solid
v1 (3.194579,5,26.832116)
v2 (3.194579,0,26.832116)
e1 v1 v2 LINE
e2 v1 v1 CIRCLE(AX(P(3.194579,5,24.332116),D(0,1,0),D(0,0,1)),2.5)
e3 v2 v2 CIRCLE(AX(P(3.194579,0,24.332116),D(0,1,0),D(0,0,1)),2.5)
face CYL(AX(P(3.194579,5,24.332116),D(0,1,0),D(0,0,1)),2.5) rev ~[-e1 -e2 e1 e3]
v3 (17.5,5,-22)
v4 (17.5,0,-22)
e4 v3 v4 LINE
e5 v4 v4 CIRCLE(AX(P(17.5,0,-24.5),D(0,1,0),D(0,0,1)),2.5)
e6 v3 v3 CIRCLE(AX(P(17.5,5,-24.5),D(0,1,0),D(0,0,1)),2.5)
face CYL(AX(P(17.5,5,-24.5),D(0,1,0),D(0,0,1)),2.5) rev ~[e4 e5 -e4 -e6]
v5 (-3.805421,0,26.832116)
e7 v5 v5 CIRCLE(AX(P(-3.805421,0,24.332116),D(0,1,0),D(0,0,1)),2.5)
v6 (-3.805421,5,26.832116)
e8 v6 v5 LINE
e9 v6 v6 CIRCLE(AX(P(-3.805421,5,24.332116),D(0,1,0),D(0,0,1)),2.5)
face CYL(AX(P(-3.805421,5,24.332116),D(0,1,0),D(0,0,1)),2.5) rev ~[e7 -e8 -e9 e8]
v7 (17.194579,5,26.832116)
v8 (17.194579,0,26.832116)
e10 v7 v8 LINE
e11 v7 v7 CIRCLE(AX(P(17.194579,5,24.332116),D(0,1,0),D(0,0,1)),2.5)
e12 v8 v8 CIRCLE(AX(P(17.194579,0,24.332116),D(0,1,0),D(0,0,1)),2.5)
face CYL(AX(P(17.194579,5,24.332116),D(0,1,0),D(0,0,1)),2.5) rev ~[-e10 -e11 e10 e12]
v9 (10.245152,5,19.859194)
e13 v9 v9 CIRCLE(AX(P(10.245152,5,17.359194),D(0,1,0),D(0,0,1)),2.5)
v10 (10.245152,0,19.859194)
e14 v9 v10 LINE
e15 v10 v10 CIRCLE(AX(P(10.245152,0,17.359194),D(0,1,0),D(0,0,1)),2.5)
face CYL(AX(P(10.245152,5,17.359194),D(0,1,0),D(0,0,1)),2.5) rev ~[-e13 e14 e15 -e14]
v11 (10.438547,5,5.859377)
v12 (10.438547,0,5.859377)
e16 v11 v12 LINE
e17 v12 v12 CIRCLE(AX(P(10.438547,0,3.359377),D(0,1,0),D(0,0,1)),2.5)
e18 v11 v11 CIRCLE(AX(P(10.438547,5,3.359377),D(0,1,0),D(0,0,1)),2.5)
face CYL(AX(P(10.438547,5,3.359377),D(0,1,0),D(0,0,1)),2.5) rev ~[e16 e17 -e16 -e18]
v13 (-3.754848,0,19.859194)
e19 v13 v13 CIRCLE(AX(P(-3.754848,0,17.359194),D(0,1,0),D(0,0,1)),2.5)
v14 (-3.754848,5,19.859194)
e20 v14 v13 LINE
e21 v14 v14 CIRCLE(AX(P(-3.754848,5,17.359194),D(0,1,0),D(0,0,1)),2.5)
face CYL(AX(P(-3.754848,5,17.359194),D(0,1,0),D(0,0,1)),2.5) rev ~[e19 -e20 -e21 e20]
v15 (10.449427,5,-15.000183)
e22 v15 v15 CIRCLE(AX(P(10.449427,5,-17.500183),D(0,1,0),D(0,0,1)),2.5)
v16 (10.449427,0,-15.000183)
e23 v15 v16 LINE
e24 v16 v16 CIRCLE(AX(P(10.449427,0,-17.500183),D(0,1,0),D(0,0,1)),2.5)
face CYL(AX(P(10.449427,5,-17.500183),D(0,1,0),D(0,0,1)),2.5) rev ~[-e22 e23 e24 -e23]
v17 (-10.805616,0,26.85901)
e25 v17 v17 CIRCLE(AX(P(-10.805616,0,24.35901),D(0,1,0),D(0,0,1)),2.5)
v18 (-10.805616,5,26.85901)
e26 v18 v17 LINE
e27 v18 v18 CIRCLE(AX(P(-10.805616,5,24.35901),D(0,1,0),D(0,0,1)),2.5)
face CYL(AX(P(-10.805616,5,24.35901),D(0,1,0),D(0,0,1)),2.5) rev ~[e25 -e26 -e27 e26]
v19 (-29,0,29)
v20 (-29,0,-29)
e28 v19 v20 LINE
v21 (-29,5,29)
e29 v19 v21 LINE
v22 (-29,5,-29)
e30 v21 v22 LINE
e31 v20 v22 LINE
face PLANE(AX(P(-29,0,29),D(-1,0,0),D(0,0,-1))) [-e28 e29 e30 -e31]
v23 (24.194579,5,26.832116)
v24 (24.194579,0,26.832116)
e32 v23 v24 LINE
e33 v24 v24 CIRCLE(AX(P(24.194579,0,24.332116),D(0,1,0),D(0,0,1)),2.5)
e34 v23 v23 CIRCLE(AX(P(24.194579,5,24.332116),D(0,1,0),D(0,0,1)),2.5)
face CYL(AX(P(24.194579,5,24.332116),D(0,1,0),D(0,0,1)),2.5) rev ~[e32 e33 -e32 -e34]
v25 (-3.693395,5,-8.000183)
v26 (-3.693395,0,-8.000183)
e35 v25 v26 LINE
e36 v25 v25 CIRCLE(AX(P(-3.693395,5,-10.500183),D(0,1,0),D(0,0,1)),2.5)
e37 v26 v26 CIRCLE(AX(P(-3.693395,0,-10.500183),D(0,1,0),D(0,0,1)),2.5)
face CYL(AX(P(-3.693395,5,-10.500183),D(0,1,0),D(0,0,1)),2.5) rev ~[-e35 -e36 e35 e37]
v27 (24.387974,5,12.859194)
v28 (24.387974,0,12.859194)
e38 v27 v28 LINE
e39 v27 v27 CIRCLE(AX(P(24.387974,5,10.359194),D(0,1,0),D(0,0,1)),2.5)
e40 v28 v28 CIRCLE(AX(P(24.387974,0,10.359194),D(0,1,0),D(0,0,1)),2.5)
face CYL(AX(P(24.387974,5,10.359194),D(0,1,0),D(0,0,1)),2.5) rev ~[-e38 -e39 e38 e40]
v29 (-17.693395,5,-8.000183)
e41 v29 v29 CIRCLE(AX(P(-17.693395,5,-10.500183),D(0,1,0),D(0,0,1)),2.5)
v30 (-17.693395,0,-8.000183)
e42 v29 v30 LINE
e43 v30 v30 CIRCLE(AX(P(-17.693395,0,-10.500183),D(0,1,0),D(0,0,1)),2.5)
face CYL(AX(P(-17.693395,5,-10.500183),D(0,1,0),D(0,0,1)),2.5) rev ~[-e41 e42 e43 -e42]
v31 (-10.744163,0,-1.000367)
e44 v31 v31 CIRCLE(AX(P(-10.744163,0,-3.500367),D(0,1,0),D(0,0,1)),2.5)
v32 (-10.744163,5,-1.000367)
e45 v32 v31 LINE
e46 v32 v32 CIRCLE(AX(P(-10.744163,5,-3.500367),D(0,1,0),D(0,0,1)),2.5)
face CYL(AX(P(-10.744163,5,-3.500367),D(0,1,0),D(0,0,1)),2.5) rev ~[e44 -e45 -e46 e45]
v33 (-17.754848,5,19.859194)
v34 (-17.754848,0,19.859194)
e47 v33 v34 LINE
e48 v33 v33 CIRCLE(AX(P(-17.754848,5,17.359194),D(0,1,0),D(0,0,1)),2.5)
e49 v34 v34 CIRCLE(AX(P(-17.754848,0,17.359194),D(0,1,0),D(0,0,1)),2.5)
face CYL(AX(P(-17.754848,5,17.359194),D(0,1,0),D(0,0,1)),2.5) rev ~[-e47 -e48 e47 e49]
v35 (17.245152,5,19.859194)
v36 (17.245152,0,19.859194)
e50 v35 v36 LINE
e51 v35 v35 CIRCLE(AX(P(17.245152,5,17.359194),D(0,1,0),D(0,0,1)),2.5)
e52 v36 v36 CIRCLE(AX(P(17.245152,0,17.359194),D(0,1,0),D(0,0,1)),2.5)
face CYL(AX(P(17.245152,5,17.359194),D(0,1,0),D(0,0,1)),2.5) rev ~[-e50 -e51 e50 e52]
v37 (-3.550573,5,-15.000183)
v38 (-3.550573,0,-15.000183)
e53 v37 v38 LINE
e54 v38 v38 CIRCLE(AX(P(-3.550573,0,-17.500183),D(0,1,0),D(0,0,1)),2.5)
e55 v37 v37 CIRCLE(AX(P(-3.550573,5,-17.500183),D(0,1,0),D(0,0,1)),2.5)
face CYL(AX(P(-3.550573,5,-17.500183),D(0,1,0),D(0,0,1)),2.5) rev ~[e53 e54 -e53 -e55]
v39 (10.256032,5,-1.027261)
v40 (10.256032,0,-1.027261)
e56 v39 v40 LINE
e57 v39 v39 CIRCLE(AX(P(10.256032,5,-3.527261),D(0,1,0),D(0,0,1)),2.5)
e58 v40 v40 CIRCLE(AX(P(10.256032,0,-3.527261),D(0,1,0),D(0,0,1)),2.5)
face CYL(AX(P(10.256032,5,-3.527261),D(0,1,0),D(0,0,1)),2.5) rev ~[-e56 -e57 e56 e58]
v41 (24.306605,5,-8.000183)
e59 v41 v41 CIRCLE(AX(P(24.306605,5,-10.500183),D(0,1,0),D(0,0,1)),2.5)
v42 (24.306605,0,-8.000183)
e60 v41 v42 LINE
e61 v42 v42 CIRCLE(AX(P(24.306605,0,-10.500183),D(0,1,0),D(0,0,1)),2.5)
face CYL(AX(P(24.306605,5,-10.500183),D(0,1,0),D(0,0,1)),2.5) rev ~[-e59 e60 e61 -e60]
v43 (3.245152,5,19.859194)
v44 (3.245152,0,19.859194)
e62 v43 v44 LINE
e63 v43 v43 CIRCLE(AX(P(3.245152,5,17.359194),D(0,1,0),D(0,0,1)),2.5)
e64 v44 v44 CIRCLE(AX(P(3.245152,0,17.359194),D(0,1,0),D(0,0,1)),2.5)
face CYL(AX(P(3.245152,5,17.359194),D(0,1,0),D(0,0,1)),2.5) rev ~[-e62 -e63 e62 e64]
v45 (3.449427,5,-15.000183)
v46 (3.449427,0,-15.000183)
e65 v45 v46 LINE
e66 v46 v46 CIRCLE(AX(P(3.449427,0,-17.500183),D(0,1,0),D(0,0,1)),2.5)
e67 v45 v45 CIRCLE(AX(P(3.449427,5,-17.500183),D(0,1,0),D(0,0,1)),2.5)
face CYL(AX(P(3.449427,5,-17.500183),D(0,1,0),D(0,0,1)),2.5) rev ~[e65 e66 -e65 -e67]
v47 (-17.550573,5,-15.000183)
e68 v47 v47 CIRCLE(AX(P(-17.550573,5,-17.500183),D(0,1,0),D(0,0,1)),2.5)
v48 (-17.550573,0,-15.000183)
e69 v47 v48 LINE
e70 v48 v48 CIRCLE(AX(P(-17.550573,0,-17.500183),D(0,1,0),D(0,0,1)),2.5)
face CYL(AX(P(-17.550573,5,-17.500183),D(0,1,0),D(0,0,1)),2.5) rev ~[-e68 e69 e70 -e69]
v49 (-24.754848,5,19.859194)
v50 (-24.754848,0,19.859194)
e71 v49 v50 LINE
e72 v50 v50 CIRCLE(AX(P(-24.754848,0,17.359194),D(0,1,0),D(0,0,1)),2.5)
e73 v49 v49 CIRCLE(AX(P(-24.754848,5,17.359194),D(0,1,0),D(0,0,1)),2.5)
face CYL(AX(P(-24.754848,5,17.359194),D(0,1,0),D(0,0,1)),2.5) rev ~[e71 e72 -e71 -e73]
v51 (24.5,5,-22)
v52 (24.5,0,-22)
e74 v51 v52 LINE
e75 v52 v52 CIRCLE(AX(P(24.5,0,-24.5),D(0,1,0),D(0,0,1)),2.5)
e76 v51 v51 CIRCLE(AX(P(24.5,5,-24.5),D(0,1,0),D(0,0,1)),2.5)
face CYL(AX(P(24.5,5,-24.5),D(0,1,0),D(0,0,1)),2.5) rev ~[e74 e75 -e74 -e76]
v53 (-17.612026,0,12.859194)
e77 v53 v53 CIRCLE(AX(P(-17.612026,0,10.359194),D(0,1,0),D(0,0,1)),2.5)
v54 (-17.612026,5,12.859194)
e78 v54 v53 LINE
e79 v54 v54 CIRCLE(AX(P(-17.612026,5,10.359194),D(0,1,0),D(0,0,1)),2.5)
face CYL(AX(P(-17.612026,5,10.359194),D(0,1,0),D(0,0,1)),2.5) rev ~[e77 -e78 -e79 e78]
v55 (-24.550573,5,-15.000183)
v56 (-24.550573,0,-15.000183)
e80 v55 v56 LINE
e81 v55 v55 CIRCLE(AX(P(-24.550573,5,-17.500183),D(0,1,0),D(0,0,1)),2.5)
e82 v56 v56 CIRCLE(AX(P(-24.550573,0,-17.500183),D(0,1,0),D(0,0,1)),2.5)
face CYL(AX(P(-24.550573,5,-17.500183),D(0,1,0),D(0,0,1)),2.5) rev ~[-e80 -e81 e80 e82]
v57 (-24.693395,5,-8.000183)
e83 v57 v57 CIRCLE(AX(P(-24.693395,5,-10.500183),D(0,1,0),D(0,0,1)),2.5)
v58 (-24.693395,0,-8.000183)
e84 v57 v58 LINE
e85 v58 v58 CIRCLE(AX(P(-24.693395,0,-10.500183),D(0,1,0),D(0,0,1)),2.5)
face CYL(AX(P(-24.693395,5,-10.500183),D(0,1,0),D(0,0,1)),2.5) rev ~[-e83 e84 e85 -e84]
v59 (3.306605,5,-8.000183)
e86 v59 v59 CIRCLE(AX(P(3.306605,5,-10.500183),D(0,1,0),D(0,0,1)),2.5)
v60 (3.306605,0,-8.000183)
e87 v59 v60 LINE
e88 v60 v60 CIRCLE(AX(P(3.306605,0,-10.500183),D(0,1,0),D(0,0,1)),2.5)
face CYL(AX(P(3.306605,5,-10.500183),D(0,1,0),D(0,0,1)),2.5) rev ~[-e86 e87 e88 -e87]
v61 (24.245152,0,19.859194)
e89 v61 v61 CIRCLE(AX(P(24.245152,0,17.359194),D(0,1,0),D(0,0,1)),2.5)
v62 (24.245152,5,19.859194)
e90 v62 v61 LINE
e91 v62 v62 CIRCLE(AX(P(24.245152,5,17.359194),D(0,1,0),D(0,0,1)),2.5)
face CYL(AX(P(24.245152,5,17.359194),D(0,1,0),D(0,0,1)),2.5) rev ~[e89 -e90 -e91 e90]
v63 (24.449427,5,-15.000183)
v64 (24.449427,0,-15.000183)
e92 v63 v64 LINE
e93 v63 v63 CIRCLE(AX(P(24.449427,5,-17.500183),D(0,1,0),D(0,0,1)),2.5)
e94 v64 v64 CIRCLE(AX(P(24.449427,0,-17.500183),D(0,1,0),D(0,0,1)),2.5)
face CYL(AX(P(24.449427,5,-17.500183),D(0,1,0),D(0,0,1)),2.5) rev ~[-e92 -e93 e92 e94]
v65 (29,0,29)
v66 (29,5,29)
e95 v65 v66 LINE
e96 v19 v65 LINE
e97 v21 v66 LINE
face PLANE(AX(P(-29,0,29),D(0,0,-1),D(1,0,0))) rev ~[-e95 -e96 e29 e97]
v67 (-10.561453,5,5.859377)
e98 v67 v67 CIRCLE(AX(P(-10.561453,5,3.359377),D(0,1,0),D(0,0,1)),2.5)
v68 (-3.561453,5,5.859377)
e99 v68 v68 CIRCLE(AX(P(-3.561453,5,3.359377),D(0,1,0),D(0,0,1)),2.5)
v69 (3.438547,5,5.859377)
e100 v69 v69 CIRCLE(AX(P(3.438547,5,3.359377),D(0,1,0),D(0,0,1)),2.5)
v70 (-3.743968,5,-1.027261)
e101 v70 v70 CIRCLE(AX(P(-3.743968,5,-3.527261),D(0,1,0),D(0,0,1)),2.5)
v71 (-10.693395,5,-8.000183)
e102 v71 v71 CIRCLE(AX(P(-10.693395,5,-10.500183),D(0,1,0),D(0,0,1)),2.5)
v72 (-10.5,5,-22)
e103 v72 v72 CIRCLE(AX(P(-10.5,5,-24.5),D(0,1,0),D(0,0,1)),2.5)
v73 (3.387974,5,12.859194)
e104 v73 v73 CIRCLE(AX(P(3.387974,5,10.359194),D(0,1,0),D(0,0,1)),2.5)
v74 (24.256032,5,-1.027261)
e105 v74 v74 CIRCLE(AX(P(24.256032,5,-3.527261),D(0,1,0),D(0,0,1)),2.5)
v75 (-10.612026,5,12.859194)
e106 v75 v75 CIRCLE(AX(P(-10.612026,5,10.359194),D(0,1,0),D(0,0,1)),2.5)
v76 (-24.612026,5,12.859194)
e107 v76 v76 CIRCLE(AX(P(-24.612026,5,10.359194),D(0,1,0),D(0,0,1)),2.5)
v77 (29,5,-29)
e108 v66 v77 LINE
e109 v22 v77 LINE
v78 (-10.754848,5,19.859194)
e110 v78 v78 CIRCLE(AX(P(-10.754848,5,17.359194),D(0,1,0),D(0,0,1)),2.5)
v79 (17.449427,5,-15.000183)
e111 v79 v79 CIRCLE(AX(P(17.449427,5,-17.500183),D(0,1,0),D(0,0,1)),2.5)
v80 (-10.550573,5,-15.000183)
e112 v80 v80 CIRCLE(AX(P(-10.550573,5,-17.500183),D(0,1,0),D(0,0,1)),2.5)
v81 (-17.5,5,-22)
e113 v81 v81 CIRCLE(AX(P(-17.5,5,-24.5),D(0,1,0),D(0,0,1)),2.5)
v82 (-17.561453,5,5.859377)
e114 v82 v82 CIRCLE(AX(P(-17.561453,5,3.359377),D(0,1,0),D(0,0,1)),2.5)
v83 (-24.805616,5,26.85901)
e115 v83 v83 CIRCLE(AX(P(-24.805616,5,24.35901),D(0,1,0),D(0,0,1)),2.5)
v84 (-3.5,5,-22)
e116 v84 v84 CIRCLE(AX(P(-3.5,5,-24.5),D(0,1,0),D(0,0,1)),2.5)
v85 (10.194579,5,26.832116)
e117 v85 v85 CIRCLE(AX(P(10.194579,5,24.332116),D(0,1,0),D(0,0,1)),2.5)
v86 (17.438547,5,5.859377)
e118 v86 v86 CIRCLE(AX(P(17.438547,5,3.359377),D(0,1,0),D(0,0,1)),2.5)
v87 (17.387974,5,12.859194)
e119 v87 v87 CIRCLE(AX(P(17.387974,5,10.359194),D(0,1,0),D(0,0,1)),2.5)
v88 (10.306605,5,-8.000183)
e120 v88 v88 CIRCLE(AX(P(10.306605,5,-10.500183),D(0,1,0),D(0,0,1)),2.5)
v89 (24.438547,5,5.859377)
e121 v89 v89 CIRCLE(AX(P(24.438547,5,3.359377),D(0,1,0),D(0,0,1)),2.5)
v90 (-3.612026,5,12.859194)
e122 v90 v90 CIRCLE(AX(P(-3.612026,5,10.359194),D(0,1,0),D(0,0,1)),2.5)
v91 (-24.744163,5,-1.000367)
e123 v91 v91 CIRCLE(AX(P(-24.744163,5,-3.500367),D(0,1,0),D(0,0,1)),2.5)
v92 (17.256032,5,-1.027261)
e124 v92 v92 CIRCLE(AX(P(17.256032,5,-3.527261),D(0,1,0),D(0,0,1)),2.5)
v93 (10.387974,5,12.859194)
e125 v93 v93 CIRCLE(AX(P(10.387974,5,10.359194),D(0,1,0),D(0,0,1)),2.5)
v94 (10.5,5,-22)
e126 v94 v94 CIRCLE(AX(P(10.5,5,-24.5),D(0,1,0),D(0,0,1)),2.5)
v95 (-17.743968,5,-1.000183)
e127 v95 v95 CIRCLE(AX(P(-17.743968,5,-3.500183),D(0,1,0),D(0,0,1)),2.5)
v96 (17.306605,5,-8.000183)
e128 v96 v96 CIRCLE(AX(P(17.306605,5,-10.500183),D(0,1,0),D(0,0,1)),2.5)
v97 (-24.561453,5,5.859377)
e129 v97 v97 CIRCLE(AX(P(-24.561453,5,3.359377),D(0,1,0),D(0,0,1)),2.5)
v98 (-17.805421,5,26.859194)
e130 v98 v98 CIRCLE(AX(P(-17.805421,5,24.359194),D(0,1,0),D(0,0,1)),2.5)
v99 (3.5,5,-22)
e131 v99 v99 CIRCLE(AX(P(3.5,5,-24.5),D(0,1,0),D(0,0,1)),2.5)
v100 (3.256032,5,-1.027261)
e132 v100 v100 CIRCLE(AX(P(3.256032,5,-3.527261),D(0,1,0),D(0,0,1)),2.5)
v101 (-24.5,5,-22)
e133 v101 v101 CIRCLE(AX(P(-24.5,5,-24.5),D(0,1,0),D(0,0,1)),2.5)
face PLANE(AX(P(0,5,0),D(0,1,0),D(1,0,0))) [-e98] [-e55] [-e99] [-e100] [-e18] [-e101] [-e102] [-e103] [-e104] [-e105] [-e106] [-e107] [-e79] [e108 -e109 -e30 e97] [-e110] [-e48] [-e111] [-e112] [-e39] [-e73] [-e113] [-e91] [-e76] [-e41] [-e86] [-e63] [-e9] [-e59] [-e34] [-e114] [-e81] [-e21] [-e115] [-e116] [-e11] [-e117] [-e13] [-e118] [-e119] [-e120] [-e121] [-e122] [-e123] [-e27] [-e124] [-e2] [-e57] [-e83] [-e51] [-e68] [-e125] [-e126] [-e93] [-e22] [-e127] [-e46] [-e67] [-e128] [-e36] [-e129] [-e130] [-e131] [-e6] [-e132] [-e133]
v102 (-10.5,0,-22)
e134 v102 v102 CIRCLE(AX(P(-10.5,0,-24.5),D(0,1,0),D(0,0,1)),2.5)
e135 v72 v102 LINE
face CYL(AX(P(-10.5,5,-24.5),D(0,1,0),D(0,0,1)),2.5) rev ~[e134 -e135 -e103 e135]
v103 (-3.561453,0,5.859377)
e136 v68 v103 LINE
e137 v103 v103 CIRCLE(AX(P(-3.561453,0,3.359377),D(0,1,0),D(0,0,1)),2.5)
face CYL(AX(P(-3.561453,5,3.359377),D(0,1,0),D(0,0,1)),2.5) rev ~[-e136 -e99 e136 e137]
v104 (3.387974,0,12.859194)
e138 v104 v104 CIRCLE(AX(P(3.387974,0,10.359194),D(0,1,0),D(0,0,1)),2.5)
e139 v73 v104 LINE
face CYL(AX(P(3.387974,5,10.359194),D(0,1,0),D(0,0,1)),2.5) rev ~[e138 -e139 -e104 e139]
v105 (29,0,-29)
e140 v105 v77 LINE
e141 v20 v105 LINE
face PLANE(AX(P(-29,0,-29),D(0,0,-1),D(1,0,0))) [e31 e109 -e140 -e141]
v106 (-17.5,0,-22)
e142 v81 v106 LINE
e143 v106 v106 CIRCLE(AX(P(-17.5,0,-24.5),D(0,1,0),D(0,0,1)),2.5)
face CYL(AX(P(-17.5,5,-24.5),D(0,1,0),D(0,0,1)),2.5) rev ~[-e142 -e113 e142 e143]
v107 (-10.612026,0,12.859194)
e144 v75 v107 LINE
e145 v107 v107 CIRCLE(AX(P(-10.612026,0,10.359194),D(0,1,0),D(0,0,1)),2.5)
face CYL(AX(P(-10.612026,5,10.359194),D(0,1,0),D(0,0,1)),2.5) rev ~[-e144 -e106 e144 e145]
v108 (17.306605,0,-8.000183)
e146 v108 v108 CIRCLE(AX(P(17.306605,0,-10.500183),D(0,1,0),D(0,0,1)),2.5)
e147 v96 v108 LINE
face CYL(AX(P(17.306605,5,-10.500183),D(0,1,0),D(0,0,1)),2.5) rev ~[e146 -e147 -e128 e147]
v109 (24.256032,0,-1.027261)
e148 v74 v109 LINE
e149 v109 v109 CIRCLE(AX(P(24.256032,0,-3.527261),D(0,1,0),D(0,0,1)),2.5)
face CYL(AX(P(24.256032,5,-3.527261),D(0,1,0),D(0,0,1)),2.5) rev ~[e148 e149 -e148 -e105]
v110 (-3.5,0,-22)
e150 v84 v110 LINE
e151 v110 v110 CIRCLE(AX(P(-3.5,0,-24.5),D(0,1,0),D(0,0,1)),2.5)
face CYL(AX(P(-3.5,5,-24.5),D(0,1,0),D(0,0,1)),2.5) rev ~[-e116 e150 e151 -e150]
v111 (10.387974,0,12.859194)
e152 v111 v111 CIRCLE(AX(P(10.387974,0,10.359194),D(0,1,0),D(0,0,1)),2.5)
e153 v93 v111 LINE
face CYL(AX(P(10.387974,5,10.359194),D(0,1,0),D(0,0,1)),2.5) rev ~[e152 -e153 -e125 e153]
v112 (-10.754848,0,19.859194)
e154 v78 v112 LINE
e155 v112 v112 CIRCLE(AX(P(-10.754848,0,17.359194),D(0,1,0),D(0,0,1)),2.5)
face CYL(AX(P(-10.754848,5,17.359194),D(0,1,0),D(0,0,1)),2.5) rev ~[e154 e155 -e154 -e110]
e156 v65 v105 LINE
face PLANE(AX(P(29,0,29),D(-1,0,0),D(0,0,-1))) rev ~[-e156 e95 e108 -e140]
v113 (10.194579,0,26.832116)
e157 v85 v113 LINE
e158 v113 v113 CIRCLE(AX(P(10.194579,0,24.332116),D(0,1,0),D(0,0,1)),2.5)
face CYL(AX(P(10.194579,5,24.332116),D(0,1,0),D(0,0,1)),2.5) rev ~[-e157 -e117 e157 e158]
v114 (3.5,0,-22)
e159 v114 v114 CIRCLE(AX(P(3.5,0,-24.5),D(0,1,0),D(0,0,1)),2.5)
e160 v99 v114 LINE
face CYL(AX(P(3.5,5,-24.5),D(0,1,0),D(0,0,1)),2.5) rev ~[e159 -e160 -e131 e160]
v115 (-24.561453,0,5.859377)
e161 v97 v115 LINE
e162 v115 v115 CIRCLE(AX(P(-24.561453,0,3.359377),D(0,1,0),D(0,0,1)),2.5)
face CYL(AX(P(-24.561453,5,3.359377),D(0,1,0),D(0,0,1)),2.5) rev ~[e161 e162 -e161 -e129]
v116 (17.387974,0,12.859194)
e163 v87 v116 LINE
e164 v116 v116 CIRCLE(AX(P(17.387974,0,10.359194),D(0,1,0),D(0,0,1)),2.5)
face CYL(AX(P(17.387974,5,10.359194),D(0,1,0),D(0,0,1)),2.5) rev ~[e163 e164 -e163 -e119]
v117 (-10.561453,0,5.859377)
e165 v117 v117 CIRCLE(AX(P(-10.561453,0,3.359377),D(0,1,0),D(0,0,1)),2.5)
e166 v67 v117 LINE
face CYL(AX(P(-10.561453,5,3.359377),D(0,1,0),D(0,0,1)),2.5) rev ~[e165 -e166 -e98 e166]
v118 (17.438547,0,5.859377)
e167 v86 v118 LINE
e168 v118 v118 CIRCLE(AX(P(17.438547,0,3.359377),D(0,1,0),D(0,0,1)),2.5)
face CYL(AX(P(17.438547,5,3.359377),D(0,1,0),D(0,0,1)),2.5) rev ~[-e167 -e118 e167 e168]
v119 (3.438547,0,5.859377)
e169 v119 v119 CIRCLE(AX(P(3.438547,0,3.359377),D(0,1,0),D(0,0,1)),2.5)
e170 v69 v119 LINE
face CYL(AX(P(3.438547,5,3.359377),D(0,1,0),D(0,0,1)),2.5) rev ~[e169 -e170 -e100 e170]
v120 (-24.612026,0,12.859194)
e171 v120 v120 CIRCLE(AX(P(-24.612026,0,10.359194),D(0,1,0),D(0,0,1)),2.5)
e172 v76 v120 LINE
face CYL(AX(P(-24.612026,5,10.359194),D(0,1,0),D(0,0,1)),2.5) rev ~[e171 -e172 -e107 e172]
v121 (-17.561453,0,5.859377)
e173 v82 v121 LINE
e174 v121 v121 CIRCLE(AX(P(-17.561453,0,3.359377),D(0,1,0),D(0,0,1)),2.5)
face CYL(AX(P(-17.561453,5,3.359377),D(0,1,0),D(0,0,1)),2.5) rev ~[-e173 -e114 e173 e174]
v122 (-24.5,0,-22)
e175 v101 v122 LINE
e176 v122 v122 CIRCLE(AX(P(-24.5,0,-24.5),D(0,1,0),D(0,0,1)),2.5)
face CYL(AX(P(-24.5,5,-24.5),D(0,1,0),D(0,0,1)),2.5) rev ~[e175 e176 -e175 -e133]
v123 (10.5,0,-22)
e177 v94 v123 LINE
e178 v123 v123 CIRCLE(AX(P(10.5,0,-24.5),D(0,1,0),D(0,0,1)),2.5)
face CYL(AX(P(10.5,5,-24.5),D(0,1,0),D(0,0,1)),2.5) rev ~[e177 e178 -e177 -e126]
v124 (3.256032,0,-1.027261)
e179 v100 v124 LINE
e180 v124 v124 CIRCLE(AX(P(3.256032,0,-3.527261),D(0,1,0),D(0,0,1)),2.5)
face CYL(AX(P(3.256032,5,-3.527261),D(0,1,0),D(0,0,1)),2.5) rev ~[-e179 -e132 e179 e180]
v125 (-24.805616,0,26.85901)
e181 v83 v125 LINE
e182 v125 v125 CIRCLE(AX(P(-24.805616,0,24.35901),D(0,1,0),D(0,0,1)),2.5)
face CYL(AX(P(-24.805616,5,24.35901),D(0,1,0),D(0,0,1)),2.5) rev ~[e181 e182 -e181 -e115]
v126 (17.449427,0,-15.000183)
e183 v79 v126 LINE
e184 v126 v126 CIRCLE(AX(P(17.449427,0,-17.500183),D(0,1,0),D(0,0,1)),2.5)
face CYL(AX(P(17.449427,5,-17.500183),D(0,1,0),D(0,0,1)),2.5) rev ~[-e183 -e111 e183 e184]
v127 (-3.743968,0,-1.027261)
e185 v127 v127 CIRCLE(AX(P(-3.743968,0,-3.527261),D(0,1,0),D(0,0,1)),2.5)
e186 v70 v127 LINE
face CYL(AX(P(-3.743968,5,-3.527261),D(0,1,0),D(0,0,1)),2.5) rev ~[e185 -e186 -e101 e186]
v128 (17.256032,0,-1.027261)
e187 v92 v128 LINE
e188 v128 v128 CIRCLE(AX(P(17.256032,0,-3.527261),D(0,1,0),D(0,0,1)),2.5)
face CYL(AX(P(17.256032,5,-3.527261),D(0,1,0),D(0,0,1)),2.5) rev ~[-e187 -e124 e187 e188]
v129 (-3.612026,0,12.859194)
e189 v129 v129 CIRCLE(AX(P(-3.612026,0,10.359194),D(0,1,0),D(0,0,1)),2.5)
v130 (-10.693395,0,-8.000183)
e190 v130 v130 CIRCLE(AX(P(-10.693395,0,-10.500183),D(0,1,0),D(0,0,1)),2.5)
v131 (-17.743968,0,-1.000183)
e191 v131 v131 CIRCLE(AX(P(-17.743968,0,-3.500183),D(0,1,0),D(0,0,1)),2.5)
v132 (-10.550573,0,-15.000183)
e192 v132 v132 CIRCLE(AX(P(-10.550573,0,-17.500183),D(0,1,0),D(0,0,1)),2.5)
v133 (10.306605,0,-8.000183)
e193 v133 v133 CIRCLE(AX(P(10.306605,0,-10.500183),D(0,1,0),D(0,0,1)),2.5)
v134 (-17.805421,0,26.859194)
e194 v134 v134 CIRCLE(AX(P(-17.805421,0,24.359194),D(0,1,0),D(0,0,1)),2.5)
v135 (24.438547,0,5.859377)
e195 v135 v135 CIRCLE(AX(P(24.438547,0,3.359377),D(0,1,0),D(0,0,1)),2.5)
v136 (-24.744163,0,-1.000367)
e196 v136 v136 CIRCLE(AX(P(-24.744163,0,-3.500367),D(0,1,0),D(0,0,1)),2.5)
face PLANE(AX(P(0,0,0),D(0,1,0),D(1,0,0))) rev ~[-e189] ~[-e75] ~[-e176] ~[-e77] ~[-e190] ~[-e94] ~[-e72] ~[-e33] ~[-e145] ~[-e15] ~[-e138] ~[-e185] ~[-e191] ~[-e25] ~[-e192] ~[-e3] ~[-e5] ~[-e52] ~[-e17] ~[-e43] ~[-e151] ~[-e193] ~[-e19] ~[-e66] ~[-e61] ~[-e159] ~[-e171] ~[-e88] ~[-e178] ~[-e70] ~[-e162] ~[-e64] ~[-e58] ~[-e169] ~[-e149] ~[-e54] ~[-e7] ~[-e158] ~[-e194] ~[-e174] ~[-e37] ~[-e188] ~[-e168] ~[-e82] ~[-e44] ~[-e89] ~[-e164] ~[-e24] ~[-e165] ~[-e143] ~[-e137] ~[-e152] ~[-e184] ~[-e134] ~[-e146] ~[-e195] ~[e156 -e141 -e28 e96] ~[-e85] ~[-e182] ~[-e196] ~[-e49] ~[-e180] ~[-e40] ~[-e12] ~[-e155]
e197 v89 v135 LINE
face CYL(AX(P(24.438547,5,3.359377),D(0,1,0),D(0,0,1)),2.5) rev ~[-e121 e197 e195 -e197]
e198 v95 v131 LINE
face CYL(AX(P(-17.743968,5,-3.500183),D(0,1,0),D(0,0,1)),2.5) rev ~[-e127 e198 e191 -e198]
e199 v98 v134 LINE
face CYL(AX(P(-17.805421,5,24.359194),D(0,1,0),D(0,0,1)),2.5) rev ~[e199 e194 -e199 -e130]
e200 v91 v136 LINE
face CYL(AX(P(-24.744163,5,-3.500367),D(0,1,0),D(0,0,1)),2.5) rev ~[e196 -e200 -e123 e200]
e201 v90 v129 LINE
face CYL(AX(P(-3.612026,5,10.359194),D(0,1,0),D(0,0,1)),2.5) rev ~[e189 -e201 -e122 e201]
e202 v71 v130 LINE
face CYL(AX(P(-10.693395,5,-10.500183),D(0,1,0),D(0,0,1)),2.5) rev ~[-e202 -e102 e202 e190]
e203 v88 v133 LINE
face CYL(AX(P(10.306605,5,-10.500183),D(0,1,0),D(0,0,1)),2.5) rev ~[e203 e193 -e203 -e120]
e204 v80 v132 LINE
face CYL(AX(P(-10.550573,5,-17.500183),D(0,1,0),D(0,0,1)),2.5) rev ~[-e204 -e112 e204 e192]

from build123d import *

# Parameters (mm, degrees)
SKETCH2_W           = 58
SKETCH2_H           = 58
BOSS_EXTRUDE1_DEPTH = 5
SKETCH3_R           = 2.5
CUT_EXTRUDE1_DEPTH  = 5


with BuildPart() as part:
    # Sketch2 → Boss-Extrude1 (new body)
    with BuildSketch(Plane(origin=(0, 0, 0), x_dir=(1, 0, 0), z_dir=(0, 1, 0))):
        Rectangle(SKETCH2_W, SKETCH2_H)
    extrude(amount=BOSS_EXTRUDE1_DEPTH)

    # Sketch3 → Cut-Extrude1 (cut)
    with BuildSketch(Plane(origin=(0, 5, 0), x_dir=(1, 0, 0), z_dir=(0, 1, 0))):
        with Locations(Location((-24.5, 24.5, 0), (0, 0, 270))):
            Circle(SKETCH3_R)
        with Locations(Location((-17.5, 24.5, 0), (0, 0, 270))):
            Circle(SKETCH3_R)
        with Locations(Location((-10.5, 24.5, 0), (0, 0, 270))):
            Circle(SKETCH3_R)
        with Locations(Location((-3.5, 24.5, 0), (0, 0, 270))):
            Circle(SKETCH3_R)
        with Locations(Location((3.5, 24.5, 0), (0, 0, 270))):
            Circle(SKETCH3_R)
        with Locations(Location((10.5, 24.5, 0), (0, 0, 270))):
            Circle(SKETCH3_R)
        with Locations(Location((17.5, 24.5, 0), (0, 0, 270))):
            Circle(SKETCH3_R)
        with Locations(Location((24.5, 24.5, 0), (0, 0, 270))):
            Circle(SKETCH3_R)
        with Locations(Location((-24.550572602, 17.500182687, 0), (0, 0, 270))):
            Circle(SKETCH3_R)
        with Locations(Location((-17.550572602, 17.500182687, 0), (0, 0, 270))):
            Circle(SKETCH3_R)
        with Locations(Location((-10.550572602, 17.500182687, 0), (0, 0, 270))):
            Circle(SKETCH3_R)
        with Locations(Location((-3.550572602, 17.500182687, 0), (0, 0, 270))):
            Circle(SKETCH3_R)
        with Locations(Location((3.449427398, 17.500182687, 0), (0, 0, 270))):
            Circle(SKETCH3_R)
        with Locations(Location((10.449427398, 17.500182687, 0), (0, 0, 270))):
            Circle(SKETCH3_R)
        with Locations(Location((17.449427398, 17.500182687, 0), (0, 0, 270))):
            Circle(SKETCH3_R)
        with Locations(Location((24.449427398, 17.500182687, 0), (0, 0, 270))):
            Circle(SKETCH3_R)
        with Locations(Location((-24.693395084, 10.500182687, 0), (0, 0, 270))):
            Circle(SKETCH3_R)
        with Locations(Location((-17.693395084, 10.500182687, 0), (0, 0, 270))):
            Circle(SKETCH3_R)
        with Locations(Location((-10.693395084, 10.500182687, 0), (0, 0, 270))):
            Circle(SKETCH3_R)
        with Locations(Location((-3.693395084, 10.500182687, 0), (0, 0, 270))):
            Circle(SKETCH3_R)
        with Locations(Location((3.306604916, 10.500182687, 0), (0, 0, 270))):
            Circle(SKETCH3_R)
        with Locations(Location((10.306604916, 10.500182687, 0), (0, 0, 270))):
            Circle(SKETCH3_R)
        with Locations(Location((17.306604916, 10.500182687, 0), (0, 0, 270))):
            Circle(SKETCH3_R)
        with Locations(Location((24.306604916, 10.500182687, 0), (0, 0, 270))):
            Circle(SKETCH3_R)
        with Locations(Location((-24.744162739, 3.500366786, 0), (0, 0, 270))):
            Circle(SKETCH3_R)
        with Locations(Location((-17.743967685, 3.500182687, 0), (0, 0, 270))):
            Circle(SKETCH3_R)
        with Locations(Location((-10.744162739, 3.500366786, 0), (0, 0, 270))):
            Circle(SKETCH3_R)
        with Locations(Location((-3.743967685, 3.52726064, 0), (0, 0, 270))):
            Circle(SKETCH3_R)
        with Locations(Location((3.256032315, 3.52726064, 0), (0, 0, 270))):
            Circle(SKETCH3_R)
        with Locations(Location((10.256032315, 3.52726064, 0), (0, 0, 270))):
            Circle(SKETCH3_R)
        with Locations(Location((17.256032315, 3.52726064, 0), (0, 0, 270))):
            Circle(SKETCH3_R)
        with Locations(Location((24.256032315, 3.52726064, 0), (0, 0, 270))):
            Circle(SKETCH3_R)
        with Locations(Location((-24.561453235, -3.359376803, 0), (0, 0, 270))):
            Circle(SKETCH3_R)
        with Locations(Location((-17.561453235, -3.359376803, 0), (0, 0, 270))):
            Circle(SKETCH3_R)
        with Locations(Location((-10.561453235, -3.359376803, 0), (0, 0, 270))):
            Circle(SKETCH3_R)
        with Locations(Location((-3.561453235, -3.359376803, 0), (0, 0, 270))):
            Circle(SKETCH3_R)
        with Locations(Location((3.438546765, -3.359376803, 0), (0, 0, 270))):
            Circle(SKETCH3_R)
        with Locations(Location((10.438546765, -3.359376803, 0), (0, 0, 270))):
            Circle(SKETCH3_R)
        with Locations(Location((17.438546765, -3.359376803, 0), (0, 0, 270))):
            Circle(SKETCH3_R)
        with Locations(Location((24.438546765, -3.359376803, 0), (0, 0, 270))):
            Circle(SKETCH3_R)
        with Locations(Location((-24.612025837, -10.359194116, 0), (0, 0, 270))):
            Circle(SKETCH3_R)
        with Locations(Location((-17.612025837, -10.359194116, 0), (0, 0, 270))):
            Circle(SKETCH3_R)
        with Locations(Location((-10.612025837, -10.359194116, 0), (0, 0, 270))):
            Circle(SKETCH3_R)
        with Locations(Location((-3.612025837, -10.359194116, 0), (0, 0, 270))):
            Circle(SKETCH3_R)
        with Locations(Location((3.387974163, -10.359194116, 0), (0, 0, 270))):
            Circle(SKETCH3_R)
        with Locations(Location((10.387974163, -10.359194116, 0), (0, 0, 270))):
            Circle(SKETCH3_R)
        with Locations(Location((17.387974163, -10.359194116, 0), (0, 0, 270))):
            Circle(SKETCH3_R)
        with Locations(Location((24.387974163, -10.359194116, 0), (0, 0, 270))):
            Circle(SKETCH3_R)
        with Locations(Location((-24.754848319, -17.359194116, 0), (0, 0, 270))):
            Circle(SKETCH3_R)
        with Locations(Location((-17.754848319, -17.359194116, 0), (0, 0, 270))):
            Circle(SKETCH3_R)
        with Locations(Location((-10.754848319, -17.359194116, 0), (0, 0, 270))):
            Circle(SKETCH3_R)
        with Locations(Location((-3.754848319, -17.359194116, 0), (0, 0, 270))):
            Circle(SKETCH3_R)
        with Locations(Location((3.245151681, -17.359194116, 0), (0, 0, 270))):
            Circle(SKETCH3_R)
        with Locations(Location((10.245151681, -17.359194116, 0), (0, 0, 270))):
            Circle(SKETCH3_R)
        with Locations(Location((17.245151681, -17.359194116, 0), (0, 0, 270))):
            Circle(SKETCH3_R)
        with Locations(Location((24.245151681, -17.359194116, 0), (0, 0, 270))):
            Circle(SKETCH3_R)
        with Locations(Location((-24.805615974, -24.359010017, 0), (0, 0, 270))):
            Circle(SKETCH3_R)
        with Locations(Location((-17.805420921, -24.359194116, 0), (0, 0, 270))):
            Circle(SKETCH3_R)
        with Locations(Location((-10.805615974, -24.359010017, 0), (0, 0, 270))):
            Circle(SKETCH3_R)
        with Locations(Location((-3.805420921, -24.332116163, 0), (0, 0, 270))):
            Circle(SKETCH3_R)
        with Locations(Location((3.194579079, -24.332116163, 0), (0, 0, 270))):
            Circle(SKETCH3_R)
        with Locations(Location((10.194579079, -24.332116163, 0), (0, 0, 270))):
            Circle(SKETCH3_R)
        with Locations(Location((17.194579079, -24.332116163, 0), (0, 0, 270))):
            Circle(SKETCH3_R)
        with Locations(Location((24.194579079, -24.332116163, 0), (0, 0, 270))):
            Circle(SKETCH3_R)
    extrude(amount=-CUT_EXTRUDE1_DEPTH, mode=Mode.SUBTRACT)


solid = part.part
